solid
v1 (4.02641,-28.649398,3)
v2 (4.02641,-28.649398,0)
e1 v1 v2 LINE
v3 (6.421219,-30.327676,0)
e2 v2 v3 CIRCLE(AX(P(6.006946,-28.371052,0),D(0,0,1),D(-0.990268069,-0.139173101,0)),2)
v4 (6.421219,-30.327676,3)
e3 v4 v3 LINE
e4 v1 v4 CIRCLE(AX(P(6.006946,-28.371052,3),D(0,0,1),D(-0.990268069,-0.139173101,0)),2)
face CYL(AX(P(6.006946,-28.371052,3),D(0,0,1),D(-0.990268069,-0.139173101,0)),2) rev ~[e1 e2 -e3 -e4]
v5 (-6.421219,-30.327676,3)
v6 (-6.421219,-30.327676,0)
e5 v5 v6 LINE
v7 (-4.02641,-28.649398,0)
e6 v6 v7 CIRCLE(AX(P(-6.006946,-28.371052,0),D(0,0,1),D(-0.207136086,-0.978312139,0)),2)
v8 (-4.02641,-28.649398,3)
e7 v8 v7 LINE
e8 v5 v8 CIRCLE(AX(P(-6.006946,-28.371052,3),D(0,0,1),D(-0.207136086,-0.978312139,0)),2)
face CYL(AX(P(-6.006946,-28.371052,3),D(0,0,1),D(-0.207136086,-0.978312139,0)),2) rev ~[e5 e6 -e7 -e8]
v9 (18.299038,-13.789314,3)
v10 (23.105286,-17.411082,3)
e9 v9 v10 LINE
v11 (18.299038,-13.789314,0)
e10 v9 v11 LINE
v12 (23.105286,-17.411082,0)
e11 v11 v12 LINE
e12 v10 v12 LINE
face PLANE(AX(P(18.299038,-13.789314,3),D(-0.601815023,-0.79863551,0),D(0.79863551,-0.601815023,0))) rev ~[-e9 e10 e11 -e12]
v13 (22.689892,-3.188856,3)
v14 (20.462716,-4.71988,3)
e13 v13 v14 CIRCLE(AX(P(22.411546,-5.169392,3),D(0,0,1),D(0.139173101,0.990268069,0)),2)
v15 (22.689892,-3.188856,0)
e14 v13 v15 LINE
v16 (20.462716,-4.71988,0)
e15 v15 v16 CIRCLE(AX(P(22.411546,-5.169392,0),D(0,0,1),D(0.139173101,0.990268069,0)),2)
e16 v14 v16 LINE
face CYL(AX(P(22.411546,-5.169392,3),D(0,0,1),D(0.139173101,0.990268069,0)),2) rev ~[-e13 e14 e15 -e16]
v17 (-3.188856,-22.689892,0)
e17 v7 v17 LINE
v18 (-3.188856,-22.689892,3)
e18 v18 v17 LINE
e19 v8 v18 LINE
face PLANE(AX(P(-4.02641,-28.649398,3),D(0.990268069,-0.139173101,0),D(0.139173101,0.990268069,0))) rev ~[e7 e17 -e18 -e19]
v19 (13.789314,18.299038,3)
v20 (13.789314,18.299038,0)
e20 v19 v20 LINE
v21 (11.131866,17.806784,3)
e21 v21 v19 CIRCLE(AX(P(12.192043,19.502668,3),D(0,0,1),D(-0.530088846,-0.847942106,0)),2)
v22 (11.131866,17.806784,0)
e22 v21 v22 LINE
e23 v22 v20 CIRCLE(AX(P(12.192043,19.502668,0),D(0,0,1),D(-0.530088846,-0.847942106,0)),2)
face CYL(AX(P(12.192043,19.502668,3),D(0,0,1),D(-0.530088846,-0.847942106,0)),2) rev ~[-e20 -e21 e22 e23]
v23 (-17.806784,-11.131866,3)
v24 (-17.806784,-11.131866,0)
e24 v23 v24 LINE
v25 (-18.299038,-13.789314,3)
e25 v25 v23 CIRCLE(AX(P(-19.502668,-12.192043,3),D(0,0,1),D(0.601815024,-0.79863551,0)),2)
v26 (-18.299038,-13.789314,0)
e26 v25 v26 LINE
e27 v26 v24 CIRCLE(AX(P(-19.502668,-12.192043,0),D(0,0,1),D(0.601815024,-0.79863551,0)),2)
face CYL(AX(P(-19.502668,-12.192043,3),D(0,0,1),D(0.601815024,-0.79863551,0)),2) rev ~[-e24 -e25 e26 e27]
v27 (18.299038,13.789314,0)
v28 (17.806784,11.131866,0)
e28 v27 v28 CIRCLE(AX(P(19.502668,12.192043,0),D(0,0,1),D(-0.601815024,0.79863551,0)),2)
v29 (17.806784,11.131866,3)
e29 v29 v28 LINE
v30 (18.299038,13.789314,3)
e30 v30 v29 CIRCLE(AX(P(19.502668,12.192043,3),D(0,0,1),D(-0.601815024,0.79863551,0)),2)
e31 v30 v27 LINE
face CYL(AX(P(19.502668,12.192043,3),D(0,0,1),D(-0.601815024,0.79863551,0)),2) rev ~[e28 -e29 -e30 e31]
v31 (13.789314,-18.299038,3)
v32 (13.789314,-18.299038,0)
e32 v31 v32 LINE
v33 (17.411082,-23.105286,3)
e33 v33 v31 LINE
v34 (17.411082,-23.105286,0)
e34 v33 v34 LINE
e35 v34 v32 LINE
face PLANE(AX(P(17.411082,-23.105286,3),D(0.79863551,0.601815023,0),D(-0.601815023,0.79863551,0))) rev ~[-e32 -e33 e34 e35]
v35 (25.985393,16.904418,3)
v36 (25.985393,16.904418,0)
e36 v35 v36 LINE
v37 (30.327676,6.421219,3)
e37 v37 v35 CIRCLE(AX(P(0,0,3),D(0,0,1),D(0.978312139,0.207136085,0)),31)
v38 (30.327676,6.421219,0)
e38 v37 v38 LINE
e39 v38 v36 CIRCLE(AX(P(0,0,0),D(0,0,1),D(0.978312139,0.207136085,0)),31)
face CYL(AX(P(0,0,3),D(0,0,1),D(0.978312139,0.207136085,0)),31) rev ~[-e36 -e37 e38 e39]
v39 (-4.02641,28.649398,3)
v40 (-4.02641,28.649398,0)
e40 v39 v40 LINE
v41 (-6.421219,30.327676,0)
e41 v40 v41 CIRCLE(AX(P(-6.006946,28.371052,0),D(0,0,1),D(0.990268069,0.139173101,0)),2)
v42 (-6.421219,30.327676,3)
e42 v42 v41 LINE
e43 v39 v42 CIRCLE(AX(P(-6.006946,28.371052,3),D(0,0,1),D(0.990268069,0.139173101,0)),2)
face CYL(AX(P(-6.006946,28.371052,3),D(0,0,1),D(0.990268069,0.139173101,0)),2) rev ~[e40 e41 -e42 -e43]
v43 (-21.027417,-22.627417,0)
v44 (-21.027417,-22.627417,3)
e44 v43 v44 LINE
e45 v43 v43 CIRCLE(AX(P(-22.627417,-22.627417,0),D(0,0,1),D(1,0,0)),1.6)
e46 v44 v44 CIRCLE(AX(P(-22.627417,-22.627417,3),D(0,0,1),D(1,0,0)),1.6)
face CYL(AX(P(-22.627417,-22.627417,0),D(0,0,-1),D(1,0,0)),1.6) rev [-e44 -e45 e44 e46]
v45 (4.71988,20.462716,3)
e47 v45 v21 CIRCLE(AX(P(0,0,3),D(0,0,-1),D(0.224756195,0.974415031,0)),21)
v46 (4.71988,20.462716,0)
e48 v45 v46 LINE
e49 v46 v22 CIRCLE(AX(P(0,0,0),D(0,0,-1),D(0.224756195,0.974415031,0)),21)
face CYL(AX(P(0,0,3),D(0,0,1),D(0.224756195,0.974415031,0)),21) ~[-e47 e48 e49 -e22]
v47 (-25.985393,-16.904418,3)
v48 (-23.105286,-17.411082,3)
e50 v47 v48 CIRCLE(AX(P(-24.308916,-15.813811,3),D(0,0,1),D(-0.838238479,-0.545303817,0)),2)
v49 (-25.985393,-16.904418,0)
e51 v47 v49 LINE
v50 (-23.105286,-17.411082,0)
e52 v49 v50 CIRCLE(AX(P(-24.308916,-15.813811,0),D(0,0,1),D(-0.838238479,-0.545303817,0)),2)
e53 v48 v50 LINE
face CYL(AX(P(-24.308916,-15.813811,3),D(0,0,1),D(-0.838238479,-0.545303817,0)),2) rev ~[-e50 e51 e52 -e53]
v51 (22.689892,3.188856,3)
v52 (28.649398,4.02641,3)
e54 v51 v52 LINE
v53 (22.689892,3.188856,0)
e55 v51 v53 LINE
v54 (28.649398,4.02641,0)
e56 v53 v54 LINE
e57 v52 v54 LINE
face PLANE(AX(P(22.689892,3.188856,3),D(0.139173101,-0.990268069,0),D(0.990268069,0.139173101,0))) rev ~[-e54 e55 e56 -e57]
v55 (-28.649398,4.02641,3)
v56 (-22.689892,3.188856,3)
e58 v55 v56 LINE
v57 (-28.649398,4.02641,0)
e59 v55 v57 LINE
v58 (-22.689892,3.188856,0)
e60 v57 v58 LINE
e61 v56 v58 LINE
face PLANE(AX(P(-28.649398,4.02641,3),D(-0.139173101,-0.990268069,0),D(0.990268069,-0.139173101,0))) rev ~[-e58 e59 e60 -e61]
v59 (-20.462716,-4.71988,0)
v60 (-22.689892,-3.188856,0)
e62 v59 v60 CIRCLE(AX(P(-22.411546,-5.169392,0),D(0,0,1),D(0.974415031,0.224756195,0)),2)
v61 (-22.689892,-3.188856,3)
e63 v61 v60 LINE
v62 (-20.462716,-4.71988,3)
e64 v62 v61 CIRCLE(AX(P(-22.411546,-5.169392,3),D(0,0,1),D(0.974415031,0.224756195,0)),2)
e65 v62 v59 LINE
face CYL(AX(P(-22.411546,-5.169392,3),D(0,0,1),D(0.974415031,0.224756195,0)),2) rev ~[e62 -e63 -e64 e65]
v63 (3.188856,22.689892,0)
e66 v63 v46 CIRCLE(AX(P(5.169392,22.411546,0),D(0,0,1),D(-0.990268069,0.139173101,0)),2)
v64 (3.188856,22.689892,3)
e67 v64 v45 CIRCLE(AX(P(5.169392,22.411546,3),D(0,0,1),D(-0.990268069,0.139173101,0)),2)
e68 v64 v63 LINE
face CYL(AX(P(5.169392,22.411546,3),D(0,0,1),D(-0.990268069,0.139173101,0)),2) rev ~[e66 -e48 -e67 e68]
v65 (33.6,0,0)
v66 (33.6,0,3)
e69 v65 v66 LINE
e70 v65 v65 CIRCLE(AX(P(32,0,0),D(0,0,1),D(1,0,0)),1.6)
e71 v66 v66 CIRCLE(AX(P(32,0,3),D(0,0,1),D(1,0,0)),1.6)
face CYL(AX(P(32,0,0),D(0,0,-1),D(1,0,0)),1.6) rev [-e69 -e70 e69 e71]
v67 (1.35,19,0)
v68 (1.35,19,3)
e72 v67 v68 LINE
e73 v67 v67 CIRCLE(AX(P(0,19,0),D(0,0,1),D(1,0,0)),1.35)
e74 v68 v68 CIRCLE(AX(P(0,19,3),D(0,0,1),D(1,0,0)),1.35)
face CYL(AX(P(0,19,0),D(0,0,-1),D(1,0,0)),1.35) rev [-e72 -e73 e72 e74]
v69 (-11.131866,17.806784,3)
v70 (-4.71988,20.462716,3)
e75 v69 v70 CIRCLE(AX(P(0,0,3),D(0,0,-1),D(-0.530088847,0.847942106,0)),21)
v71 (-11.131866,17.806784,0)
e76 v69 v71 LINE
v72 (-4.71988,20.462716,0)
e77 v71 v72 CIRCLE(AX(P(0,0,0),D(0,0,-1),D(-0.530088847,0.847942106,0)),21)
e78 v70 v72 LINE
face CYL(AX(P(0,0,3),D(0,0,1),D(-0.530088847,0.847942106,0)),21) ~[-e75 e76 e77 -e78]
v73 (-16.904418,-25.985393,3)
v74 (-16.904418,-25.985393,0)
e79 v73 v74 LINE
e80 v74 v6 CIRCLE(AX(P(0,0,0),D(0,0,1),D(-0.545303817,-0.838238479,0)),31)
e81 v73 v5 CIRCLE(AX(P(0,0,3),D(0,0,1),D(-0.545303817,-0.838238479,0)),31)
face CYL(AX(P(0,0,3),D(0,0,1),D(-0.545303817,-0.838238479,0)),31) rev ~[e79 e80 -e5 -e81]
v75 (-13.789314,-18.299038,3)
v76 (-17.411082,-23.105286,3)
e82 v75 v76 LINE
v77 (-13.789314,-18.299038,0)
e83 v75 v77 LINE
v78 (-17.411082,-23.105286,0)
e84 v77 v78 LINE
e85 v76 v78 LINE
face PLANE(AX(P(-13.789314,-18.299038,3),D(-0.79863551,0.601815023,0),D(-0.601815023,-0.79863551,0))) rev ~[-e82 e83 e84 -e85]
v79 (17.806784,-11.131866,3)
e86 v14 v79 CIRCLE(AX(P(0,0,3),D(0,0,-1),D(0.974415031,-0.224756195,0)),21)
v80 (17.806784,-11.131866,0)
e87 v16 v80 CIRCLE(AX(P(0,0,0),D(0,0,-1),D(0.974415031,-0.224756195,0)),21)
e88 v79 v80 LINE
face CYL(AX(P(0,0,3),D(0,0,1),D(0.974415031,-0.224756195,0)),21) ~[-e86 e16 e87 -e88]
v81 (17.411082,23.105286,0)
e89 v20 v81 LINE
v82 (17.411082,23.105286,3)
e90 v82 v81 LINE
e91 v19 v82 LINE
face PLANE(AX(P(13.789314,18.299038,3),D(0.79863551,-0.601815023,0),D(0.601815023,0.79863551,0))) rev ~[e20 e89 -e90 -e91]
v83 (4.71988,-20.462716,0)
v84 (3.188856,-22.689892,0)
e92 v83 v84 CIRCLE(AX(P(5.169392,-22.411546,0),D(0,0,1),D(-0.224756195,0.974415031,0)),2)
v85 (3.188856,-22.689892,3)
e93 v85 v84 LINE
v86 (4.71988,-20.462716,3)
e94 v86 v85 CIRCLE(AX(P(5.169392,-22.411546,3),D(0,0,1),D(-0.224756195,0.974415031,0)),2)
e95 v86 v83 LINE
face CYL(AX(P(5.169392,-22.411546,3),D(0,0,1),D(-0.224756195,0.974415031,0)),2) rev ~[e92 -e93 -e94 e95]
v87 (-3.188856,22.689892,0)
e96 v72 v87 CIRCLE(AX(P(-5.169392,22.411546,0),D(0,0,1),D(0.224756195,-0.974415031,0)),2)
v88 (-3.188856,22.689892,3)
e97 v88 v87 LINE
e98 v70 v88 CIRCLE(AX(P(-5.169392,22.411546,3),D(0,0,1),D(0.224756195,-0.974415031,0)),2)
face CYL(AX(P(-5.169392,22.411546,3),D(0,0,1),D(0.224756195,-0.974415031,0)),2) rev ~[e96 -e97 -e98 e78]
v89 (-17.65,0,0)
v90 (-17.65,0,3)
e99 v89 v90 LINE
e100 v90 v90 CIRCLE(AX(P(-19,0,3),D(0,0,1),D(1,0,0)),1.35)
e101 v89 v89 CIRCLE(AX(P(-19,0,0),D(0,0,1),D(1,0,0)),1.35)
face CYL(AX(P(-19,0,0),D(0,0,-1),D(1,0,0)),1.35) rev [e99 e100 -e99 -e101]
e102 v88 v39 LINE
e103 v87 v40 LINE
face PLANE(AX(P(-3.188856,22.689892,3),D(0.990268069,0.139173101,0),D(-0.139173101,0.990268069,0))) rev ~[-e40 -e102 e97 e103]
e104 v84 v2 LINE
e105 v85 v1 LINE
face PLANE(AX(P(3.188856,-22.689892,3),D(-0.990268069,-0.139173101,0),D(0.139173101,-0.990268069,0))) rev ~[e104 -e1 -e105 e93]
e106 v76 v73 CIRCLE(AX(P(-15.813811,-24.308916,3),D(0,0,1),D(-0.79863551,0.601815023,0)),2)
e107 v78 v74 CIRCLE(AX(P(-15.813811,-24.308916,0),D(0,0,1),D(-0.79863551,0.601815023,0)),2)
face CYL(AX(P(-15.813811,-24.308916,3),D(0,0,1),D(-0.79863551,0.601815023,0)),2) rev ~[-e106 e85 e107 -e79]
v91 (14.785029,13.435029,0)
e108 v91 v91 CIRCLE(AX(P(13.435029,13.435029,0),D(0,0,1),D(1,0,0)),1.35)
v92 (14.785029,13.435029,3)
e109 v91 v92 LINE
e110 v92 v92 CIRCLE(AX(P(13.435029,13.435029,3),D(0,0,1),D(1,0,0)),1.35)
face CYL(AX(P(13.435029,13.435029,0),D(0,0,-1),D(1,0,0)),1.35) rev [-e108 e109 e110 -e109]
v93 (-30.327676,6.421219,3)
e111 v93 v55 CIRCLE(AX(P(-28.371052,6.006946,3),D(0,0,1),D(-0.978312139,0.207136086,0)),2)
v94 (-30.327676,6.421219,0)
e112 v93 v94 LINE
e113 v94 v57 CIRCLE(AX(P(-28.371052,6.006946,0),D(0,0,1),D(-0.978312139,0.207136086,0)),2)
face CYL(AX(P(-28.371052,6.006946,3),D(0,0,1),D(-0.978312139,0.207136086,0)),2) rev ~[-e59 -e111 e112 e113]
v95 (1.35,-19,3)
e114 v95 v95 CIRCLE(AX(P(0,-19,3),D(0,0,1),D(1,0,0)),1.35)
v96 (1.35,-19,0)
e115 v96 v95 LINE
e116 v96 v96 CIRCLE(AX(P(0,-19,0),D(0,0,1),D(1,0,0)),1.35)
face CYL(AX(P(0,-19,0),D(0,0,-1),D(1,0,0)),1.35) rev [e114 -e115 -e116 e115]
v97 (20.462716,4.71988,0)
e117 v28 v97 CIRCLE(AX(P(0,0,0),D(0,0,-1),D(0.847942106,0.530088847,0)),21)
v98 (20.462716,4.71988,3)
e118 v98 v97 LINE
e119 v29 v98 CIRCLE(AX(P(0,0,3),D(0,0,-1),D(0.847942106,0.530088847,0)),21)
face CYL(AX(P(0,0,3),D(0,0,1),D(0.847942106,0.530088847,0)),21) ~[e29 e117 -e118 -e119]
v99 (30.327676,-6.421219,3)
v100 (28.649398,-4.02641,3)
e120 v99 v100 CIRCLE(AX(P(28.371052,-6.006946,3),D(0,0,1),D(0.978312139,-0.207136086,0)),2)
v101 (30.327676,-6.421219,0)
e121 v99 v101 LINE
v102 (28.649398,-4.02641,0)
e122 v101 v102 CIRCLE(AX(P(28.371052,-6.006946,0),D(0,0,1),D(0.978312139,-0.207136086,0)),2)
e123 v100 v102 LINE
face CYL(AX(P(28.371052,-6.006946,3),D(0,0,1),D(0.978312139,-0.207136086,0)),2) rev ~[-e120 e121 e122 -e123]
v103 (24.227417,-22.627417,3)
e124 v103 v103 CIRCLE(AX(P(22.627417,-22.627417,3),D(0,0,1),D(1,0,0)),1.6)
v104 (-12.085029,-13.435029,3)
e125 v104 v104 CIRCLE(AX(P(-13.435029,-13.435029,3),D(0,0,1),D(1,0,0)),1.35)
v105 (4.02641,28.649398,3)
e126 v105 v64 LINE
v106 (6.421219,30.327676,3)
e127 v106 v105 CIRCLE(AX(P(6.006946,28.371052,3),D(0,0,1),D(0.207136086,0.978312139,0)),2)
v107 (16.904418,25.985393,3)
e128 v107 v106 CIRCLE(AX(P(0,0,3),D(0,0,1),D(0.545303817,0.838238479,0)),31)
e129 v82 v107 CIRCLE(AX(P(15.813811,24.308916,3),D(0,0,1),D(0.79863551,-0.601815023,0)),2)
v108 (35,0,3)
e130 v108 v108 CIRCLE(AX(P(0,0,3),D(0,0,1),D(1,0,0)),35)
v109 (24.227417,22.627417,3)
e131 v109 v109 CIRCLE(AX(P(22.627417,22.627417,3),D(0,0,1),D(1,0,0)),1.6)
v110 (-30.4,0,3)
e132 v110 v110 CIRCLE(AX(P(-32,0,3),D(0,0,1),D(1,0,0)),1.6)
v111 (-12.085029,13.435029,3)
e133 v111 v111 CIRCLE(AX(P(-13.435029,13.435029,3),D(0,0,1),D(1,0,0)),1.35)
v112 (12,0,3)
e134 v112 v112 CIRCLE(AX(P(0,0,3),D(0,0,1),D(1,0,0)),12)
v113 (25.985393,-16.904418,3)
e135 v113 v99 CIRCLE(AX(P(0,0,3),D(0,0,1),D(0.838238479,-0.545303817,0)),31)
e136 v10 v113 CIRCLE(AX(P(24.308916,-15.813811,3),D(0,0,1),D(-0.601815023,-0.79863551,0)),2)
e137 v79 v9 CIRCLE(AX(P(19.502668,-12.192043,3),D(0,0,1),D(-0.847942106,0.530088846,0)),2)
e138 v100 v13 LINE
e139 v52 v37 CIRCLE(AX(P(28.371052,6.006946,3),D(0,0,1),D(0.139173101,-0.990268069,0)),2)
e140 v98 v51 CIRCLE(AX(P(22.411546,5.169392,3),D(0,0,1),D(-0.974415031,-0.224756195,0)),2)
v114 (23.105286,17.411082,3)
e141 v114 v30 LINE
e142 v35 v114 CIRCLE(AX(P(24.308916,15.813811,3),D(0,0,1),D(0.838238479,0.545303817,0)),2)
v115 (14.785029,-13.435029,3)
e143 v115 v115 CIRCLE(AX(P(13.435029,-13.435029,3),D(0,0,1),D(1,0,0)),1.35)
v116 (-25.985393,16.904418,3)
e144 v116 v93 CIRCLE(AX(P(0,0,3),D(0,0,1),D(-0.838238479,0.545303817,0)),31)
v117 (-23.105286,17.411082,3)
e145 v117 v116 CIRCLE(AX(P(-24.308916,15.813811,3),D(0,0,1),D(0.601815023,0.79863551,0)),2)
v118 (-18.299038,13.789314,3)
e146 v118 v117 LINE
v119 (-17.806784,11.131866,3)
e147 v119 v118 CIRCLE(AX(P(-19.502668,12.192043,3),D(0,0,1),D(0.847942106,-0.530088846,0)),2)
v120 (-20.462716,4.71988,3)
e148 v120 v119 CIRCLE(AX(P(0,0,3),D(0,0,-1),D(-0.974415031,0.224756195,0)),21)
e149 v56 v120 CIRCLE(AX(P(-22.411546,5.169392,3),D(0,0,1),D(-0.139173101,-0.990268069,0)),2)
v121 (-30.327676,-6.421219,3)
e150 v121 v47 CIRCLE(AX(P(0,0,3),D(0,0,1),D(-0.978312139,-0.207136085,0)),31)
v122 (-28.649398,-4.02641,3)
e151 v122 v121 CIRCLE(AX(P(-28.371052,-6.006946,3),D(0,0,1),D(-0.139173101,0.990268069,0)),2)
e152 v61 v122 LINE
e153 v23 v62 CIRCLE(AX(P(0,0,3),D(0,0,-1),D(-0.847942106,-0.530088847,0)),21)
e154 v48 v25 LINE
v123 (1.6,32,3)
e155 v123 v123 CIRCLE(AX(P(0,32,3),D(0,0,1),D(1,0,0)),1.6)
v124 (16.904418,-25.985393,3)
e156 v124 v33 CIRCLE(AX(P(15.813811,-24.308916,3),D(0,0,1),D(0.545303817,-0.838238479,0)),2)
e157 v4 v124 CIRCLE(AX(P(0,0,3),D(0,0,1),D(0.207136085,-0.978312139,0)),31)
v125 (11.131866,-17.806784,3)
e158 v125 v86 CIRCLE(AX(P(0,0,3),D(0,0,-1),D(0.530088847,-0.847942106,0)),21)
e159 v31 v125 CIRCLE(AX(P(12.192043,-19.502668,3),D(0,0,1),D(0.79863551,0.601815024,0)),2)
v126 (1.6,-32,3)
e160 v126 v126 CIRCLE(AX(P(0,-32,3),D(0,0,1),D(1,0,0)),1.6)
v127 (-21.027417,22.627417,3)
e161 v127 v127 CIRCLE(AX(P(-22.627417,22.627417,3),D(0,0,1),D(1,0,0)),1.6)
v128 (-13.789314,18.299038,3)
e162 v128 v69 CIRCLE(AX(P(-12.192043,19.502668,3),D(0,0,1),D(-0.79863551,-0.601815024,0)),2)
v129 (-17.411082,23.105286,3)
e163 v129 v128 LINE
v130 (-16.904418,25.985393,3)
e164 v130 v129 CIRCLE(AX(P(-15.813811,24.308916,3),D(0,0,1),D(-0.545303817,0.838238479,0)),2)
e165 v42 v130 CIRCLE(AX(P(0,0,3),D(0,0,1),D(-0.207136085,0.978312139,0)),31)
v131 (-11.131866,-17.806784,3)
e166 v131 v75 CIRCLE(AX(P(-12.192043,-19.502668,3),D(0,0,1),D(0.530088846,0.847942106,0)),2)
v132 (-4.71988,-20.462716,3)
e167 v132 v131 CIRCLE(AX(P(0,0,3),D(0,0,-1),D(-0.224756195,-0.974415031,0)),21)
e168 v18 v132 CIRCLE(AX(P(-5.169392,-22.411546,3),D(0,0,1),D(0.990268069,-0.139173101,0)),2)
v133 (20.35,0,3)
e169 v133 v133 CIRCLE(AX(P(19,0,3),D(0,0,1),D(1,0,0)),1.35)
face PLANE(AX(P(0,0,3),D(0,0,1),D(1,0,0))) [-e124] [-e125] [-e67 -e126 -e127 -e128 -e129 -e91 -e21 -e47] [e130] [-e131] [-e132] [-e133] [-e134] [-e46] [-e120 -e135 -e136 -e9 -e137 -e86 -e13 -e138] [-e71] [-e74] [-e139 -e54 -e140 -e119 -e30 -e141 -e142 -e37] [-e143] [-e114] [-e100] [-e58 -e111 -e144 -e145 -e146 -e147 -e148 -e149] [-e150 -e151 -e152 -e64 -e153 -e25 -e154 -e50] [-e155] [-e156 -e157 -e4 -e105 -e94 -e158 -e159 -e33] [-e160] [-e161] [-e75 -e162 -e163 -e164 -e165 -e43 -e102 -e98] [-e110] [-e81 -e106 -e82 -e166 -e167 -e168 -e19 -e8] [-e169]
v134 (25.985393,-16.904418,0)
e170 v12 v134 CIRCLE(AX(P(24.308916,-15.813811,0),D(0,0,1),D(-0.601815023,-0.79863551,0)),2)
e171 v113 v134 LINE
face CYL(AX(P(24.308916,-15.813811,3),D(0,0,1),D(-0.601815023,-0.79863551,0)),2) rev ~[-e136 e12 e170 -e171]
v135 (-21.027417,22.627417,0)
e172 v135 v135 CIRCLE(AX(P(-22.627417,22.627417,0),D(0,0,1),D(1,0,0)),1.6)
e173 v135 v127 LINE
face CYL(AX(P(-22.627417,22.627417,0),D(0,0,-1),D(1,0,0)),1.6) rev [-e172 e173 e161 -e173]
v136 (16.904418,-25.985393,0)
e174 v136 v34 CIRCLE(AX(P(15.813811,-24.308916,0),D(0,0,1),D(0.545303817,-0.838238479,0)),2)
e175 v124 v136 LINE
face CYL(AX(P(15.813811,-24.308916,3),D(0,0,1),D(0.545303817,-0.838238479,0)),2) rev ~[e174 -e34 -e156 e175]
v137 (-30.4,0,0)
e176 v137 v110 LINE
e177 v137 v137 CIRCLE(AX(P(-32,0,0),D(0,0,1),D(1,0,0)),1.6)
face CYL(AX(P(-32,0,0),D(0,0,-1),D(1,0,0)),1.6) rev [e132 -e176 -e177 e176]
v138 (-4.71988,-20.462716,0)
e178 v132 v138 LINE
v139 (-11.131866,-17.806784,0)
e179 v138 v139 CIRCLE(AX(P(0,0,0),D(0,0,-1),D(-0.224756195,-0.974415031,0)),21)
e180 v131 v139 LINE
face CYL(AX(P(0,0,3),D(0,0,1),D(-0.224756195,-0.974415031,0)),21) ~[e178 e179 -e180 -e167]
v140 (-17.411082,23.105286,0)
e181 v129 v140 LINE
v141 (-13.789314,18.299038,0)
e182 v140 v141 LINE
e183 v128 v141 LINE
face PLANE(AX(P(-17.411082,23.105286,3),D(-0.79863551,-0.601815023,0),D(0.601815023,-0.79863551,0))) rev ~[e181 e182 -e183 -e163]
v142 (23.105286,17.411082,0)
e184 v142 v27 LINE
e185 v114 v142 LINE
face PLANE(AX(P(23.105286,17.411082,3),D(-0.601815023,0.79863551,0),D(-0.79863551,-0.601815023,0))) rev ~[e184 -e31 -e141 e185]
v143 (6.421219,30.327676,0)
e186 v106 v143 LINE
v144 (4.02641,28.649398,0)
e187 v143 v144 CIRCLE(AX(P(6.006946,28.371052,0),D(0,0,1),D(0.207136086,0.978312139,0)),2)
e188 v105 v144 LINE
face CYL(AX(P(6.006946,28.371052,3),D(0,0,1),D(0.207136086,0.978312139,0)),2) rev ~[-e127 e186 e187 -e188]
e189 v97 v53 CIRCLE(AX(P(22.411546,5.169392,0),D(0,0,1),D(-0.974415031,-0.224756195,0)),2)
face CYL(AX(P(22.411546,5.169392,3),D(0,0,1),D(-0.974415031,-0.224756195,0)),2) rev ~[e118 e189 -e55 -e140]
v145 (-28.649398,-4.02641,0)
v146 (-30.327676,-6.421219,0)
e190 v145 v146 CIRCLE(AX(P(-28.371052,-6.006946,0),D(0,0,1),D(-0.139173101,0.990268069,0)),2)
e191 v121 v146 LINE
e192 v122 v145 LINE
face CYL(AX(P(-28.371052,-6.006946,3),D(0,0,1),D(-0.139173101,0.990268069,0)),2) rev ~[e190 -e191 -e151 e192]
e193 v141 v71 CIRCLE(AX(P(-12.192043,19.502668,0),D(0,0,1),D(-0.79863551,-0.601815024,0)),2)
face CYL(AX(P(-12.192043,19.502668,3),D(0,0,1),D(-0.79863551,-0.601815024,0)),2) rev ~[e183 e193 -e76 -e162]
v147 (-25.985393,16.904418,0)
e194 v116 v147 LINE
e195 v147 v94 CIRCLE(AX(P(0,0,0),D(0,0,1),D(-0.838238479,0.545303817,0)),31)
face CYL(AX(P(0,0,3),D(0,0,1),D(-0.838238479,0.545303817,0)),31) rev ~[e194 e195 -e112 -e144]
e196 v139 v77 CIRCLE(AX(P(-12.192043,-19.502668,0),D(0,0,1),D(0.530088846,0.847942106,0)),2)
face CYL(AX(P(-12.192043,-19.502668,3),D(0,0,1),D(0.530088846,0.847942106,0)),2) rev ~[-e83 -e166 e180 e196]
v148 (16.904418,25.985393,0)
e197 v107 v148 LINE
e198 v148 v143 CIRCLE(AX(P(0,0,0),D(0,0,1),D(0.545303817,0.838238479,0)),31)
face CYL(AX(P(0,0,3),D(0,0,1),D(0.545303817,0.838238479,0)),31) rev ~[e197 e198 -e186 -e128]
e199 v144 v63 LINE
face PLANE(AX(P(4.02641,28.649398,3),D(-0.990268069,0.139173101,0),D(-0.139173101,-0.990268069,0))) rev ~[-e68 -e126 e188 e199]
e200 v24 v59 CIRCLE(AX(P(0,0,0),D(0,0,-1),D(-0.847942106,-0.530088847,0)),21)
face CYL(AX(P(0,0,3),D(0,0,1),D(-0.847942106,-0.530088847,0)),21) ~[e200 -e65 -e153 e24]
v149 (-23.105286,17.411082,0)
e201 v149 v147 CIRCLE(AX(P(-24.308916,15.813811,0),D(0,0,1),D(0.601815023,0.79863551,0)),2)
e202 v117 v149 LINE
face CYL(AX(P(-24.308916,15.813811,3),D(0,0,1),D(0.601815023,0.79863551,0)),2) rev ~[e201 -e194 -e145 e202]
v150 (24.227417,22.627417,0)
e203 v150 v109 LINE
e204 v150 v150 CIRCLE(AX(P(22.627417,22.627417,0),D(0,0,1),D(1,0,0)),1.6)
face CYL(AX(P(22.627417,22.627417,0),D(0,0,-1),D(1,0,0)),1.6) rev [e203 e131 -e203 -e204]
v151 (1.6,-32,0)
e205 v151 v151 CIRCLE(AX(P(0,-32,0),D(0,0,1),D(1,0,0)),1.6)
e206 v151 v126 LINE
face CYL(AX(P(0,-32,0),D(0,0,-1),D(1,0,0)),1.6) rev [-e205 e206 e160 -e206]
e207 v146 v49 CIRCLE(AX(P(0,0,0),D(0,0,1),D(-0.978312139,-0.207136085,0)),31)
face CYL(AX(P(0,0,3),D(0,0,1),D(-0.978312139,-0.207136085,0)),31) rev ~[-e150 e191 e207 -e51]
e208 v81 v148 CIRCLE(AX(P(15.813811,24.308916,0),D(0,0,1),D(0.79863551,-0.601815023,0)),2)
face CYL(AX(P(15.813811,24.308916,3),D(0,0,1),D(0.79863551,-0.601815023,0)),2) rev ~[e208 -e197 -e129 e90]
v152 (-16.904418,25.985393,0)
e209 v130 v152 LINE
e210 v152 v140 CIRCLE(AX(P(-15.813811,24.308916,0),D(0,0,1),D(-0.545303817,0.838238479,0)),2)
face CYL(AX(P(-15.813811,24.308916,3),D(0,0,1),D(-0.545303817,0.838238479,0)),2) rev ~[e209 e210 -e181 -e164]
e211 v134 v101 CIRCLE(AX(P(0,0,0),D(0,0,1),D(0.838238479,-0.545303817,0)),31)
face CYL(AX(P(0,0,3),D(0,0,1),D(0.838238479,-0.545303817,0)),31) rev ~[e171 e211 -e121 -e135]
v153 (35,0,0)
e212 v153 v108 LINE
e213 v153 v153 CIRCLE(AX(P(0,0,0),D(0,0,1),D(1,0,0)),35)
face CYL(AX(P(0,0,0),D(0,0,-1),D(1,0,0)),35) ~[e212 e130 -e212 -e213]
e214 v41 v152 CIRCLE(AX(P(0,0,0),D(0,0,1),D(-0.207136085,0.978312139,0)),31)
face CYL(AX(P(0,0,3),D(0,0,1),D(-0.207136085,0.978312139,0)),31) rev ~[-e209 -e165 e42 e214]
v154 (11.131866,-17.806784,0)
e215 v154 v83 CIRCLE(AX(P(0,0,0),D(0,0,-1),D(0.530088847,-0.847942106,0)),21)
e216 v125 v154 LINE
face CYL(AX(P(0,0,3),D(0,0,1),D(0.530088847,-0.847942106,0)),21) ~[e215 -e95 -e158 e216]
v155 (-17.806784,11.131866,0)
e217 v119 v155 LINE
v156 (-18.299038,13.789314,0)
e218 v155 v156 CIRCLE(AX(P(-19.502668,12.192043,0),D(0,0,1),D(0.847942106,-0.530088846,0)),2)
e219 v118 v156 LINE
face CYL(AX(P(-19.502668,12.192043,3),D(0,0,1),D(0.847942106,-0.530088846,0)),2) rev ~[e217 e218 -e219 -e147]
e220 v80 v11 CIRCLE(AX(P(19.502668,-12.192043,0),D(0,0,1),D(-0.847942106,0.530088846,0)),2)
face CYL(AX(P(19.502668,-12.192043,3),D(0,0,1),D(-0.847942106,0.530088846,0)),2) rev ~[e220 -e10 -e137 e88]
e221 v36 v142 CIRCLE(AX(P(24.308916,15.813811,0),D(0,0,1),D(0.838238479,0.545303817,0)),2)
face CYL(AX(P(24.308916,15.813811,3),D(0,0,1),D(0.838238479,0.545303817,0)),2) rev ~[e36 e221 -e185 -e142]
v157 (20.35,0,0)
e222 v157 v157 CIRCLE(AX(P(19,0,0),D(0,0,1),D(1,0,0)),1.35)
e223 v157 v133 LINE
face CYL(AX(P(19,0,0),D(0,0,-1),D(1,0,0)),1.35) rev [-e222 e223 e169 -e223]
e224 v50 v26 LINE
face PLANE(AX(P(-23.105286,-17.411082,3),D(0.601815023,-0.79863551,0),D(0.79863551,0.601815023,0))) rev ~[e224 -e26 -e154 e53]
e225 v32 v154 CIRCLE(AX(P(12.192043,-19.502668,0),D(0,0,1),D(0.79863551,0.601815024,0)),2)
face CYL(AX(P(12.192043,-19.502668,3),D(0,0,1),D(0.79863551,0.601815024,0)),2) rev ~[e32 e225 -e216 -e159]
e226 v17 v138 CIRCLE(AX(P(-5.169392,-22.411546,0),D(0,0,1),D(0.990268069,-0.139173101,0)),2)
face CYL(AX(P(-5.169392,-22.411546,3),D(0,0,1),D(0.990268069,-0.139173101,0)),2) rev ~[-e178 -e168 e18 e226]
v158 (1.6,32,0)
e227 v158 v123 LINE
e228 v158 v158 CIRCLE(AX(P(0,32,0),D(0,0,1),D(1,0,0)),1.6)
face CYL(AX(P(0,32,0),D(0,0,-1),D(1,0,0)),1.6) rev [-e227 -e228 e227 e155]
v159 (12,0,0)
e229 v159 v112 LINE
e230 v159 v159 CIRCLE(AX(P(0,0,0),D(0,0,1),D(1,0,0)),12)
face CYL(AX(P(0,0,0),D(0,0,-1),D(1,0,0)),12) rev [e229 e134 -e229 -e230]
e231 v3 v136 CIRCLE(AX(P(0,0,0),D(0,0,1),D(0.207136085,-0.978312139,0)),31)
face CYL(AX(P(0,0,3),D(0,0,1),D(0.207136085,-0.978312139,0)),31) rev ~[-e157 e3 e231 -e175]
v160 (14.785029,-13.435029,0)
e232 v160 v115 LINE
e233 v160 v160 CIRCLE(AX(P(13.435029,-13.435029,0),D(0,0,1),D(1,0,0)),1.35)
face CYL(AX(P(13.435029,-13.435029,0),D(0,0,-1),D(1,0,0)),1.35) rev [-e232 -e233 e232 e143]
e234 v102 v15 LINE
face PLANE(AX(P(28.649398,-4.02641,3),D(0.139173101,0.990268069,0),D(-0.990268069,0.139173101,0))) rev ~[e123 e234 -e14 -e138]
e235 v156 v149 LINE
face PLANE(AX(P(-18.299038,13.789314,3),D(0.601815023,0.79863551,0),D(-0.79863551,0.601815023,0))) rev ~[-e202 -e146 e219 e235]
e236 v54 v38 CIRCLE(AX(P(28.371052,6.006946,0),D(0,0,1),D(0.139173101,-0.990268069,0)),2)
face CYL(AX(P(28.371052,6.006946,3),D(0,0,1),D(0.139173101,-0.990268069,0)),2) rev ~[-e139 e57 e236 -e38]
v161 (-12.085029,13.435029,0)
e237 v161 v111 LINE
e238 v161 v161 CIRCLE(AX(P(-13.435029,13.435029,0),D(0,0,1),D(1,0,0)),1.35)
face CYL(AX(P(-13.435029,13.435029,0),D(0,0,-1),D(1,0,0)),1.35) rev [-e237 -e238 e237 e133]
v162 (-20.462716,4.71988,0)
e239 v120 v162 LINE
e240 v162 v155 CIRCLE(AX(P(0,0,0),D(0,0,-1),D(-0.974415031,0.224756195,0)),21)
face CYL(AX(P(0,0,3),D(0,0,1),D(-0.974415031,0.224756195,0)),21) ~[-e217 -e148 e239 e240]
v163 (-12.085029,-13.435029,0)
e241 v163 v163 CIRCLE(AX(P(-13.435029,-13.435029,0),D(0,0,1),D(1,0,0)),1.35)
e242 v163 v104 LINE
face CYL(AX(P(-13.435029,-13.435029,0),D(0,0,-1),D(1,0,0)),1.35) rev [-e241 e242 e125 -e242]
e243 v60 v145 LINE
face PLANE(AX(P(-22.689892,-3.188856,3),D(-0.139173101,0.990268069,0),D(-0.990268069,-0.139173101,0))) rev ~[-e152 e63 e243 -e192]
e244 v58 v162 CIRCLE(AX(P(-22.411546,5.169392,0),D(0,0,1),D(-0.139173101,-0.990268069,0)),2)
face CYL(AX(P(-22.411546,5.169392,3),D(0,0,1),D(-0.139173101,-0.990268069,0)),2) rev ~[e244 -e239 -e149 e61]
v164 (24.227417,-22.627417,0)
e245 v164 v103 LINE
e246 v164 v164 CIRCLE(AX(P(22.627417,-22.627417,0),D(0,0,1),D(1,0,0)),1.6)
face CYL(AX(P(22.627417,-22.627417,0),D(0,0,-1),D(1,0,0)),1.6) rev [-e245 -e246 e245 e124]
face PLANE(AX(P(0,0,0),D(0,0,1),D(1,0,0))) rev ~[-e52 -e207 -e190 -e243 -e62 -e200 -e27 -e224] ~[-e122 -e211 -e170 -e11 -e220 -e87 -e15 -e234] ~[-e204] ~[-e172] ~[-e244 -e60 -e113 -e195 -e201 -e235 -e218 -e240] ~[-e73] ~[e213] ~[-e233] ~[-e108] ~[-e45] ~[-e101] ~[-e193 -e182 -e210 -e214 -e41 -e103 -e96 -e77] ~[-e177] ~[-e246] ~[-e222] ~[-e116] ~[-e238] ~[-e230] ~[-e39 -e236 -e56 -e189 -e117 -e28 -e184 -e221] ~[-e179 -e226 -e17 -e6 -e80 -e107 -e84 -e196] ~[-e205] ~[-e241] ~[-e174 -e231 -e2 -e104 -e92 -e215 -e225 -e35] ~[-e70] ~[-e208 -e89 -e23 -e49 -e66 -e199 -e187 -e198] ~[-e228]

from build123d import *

# Parameters (mm, degrees)
SKETCH_1_R          = 35
SKETCH_1_R_2        = 1.6
SKETCH_1_R_3        = 1.35
SKETCH_1_R_4        = 12
EXTRUDE_1_DEPTH     = 3
CUT_EXTRUDE_1_DEPTH = 3


with BuildPart() as part:
    # 草图1 → 凸台-拉伸1 (new body)
    with BuildSketch(Plane.XY):
        Circle(SKETCH_1_R)
        with Locations((-22.627416998, 22.627416998)):
            Circle(SKETCH_1_R_2, mode=Mode.SUBTRACT)
        with Locations((0, 32)):
            Circle(SKETCH_1_R_2, mode=Mode.SUBTRACT)
        with Locations((22.627416998, 22.627416998)):
            Circle(SKETCH_1_R_2, mode=Mode.SUBTRACT)
        with Locations((32, 0)):
            Circle(SKETCH_1_R_2, mode=Mode.SUBTRACT)
        with Locations((22.627416998, -22.627416998)):
            Circle(SKETCH_1_R_2, mode=Mode.SUBTRACT)
        with Locations((0, -32)):
            Circle(SKETCH_1_R_2, mode=Mode.SUBTRACT)
        with Locations((-22.627416998, -22.627416998)):
            Circle(SKETCH_1_R_2, mode=Mode.SUBTRACT)
        with Locations((-32, 0)):
            Circle(SKETCH_1_R_2, mode=Mode.SUBTRACT)
        with Locations((-13.435028843, 13.435028843)):
            Circle(SKETCH_1_R_3, mode=Mode.SUBTRACT)
        with Locations((0, 19)):
            Circle(SKETCH_1_R_3, mode=Mode.SUBTRACT)
        with Locations((13.435028843, 13.435028843)):
            Circle(SKETCH_1_R_3, mode=Mode.SUBTRACT)
        with Locations((19, 0)):
            Circle(SKETCH_1_R_3, mode=Mode.SUBTRACT)
        with Locations((13.435028843, -13.435028843)):
            Circle(SKETCH_1_R_3, mode=Mode.SUBTRACT)
        with Locations((0, -19)):
            Circle(SKETCH_1_R_3, mode=Mode.SUBTRACT)
        with Locations((-13.435028843, -13.435028843)):
            Circle(SKETCH_1_R_3, mode=Mode.SUBTRACT)
        with Locations((-19, 0)):
            Circle(SKETCH_1_R_3, mode=Mode.SUBTRACT)
        Circle(SKETCH_1_R_4, mode=Mode.SUBTRACT)
    extrude(amount=EXTRUDE_1_DEPTH)

    # 草图2 → 切除-拉伸1 (cut)
    with BuildSketch(Plane.XY.offset(3)):
        with BuildLine():
            Line((4.026410343, 28.649398244), (3.188856349, 22.689891917))
            ThreePointArc((3.188856349, 22.689891917), (3.521253388, 21.278568437), (4.719880097, 20.462715652))
            ThreePointArc((4.719880097, 20.462715652), (8.03635208, 19.401470183), (11.131865777, 17.806784222))
            ThreePointArc((11.131865777, 17.806784222), (12.556317887, 17.536122185), (13.78931449, 18.299038387))
            Line((13.78931449, 18.299038387), (17.411081718, 23.105285833))
            ThreePointArc((17.411081718, 23.105285833), (17.783563729, 24.655431386), (16.904418332, 25.985392836))
            ThreePointArc((16.904418332, 25.985392836), (11.863186403, 28.640265508), (6.421218651, 30.327676321))
            ThreePointArc((6.421218651, 30.327676321), (4.85914422, 30.008901233), (4.026410343, 28.649398244))
        make_face()
        with BuildLine():
            Line((23.105285833, 17.411081718), (18.299038387, 13.78931449))
            ThreePointArc((18.299038387, 13.78931449), (17.536122185, 12.556317887), (17.806784222, 11.131865777))
            ThreePointArc((17.806784222, 11.131865777), (19.401470183, 8.03635208), (20.462715652, 4.719880097))
            ThreePointArc((20.462715652, 4.719880097), (21.278568437, 3.521253388), (22.689891917, 3.188856349))
            Line((22.689891917, 3.188856349), (28.649398244, 4.026410343))
            ThreePointArc((28.649398244, 4.026410343), (30.008901233, 4.85914422), (30.327676321, 6.421218651))
            ThreePointArc((30.327676321, 6.421218651), (28.640265508, 11.863186403), (25.985392836, 16.904418332))
            ThreePointArc((25.985392836, 16.904418332), (24.655431386, 17.783563729), (23.105285833, 17.411081718))
        make_face()
        with BuildLine():
            Line((28.649398244, -4.026410343), (22.689891917, -3.188856349))
            ThreePointArc((22.689891917, -3.188856349), (21.278568437, -3.521253388), (20.462715652, -4.719880097))
            ThreePointArc((20.462715652, -4.719880097), (19.401470183, -8.03635208), (17.806784222, -11.131865777))
            ThreePointArc((17.806784222, -11.131865777), (17.536122185, -12.556317887), (18.299038387, -13.78931449))
            Line((18.299038387, -13.78931449), (23.105285833, -17.411081718))
            ThreePointArc((23.105285833, -17.411081718), (24.655431386, -17.783563729), (25.985392836, -16.904418332))
            ThreePointArc((25.985392836, -16.904418332), (28.640265508, -11.863186403), (30.327676321, -6.421218651))
            ThreePointArc((30.327676321, -6.421218651), (30.008901233, -4.85914422), (28.649398244, -4.026410343))
        make_face()
        with BuildLine():
            Line((17.411081718, -23.105285833), (13.78931449, -18.299038387))
            ThreePointArc((13.78931449, -18.299038387), (12.556317887, -17.536122185), (11.131865777, -17.806784222))
            ThreePointArc((11.131865777, -17.806784222), (8.03635208, -19.401470183), (4.719880097, -20.462715652))
            ThreePointArc((4.719880097, -20.462715652), (3.521253388, -21.278568437), (3.188856349, -22.689891917))
            Line((3.188856349, -22.689891917), (4.026410343, -28.649398244))
            ThreePointArc((4.026410343, -28.649398244), (4.85914422, -30.008901233), (6.421218651, -30.327676321))
            ThreePointArc((6.421218651, -30.327676321), (11.863186403, -28.640265508), (16.904418332, -25.985392836))
            ThreePointArc((16.904418332, -25.985392836), (17.783563729, -24.655431386), (17.411081718, -23.105285833))
        make_face()
        with BuildLine():
            Line((-4.026410343, -28.649398244), (-3.188856349, -22.689891917))
            ThreePointArc((-3.188856349, -22.689891917), (-3.521253388, -21.278568437), (-4.719880097, -20.462715652))
            ThreePointArc((-4.719880097, -20.462715652), (-8.03635208, -19.401470183), (-11.131865777, -17.806784222))
            ThreePointArc((-11.131865777, -17.806784222), (-12.556317887, -17.536122185), (-13.78931449, -18.299038387))
            Line((-13.78931449, -18.299038387), (-17.411081718, -23.105285833))
            ThreePointArc((-17.411081718, -23.105285833), (-17.783563729, -24.655431386), (-16.904418332, -25.985392836))
            ThreePointArc((-16.904418332, -25.985392836), (-11.863186403, -28.640265508), (-6.421218651, -30.327676321))
            ThreePointArc((-6.421218651, -30.327676321), (-4.85914422, -30.008901233), (-4.026410343, -28.649398244))
        make_face()
        with BuildLine():
            Line((-23.105285833, -17.411081718), (-18.299038387, -13.78931449))
            ThreePointArc((-18.299038387, -13.78931449), (-17.536122185, -12.556317887), (-17.806784222, -11.131865777))
            ThreePointArc((-17.806784222, -11.131865777), (-19.401470183, -8.03635208), (-20.462715652, -4.719880097))
            ThreePointArc((-20.462715652, -4.719880097), (-21.278568437, -3.521253388), (-22.689891917, -3.188856349))
            Line((-22.689891917, -3.188856349), (-28.649398244, -4.026410343))
            ThreePointArc((-28.649398244, -4.026410343), (-30.008901233, -4.85914422), (-30.327676321, -6.421218651))
            ThreePointArc((-30.327676321, -6.421218651), (-28.640265508, -11.863186403), (-25.985392836, -16.904418332))
            ThreePointArc((-25.985392836, -16.904418332), (-24.655431386, -17.783563729), (-23.105285833, -17.411081718))
        make_face()
        with BuildLine():
            Line((-28.649398244, 4.026410343), (-22.689891917, 3.188856349))
            ThreePointArc((-22.689891917, 3.188856349), (-21.278568437, 3.521253388), (-20.462715652, 4.719880097))
            ThreePointArc((-20.462715652, 4.719880097), (-19.401470183, 8.03635208), (-17.806784222, 11.131865777))
            ThreePointArc((-17.806784222, 11.131865777), (-17.536122185, 12.556317887), (-18.299038387, 13.78931449))
            Line((-18.299038387, 13.78931449), (-23.105285833, 17.411081718))
            ThreePointArc((-23.105285833, 17.411081718), (-24.655431386, 17.783563729), (-25.985392836, 16.904418332))
            ThreePointArc((-25.985392836, 16.904418332), (-28.640265508, 11.863186403), (-30.327676321, 6.421218651))
            ThreePointArc((-30.327676321, 6.421218651), (-30.008901233, 4.85914422), (-28.649398244, 4.026410343))
        make_face()
        with BuildLine():
            Line((-17.411081718, 23.105285833), (-13.78931449, 18.299038387))
            ThreePointArc((-13.78931449, 18.299038387), (-12.556317887, 17.536122185), (-11.131865777, 17.806784222))
            ThreePointArc((-11.131865777, 17.806784222), (-8.03635208, 19.401470183), (-4.719880097, 20.462715652))
            ThreePointArc((-4.719880097, 20.462715652), (-3.521253388, 21.278568437), (-3.188856349, 22.689891917))
            Line((-3.188856349, 22.689891917), (-4.026410343, 28.649398244))
            ThreePointArc((-4.026410343, 28.649398244), (-4.85914422, 30.008901233), (-6.421218651, 30.327676321))
            ThreePointArc((-6.421218651, 30.327676321), (-11.863186403, 28.640265508), (-16.904418332, 25.985392836))
            ThreePointArc((-16.904418332, 25.985392836), (-17.783563729, 24.655431386), (-17.411081718, 23.105285833))
        make_face()
    extrude(amount=-CUT_EXTRUDE_1_DEPTH, mode=Mode.SUBTRACT)


solid = part.part
